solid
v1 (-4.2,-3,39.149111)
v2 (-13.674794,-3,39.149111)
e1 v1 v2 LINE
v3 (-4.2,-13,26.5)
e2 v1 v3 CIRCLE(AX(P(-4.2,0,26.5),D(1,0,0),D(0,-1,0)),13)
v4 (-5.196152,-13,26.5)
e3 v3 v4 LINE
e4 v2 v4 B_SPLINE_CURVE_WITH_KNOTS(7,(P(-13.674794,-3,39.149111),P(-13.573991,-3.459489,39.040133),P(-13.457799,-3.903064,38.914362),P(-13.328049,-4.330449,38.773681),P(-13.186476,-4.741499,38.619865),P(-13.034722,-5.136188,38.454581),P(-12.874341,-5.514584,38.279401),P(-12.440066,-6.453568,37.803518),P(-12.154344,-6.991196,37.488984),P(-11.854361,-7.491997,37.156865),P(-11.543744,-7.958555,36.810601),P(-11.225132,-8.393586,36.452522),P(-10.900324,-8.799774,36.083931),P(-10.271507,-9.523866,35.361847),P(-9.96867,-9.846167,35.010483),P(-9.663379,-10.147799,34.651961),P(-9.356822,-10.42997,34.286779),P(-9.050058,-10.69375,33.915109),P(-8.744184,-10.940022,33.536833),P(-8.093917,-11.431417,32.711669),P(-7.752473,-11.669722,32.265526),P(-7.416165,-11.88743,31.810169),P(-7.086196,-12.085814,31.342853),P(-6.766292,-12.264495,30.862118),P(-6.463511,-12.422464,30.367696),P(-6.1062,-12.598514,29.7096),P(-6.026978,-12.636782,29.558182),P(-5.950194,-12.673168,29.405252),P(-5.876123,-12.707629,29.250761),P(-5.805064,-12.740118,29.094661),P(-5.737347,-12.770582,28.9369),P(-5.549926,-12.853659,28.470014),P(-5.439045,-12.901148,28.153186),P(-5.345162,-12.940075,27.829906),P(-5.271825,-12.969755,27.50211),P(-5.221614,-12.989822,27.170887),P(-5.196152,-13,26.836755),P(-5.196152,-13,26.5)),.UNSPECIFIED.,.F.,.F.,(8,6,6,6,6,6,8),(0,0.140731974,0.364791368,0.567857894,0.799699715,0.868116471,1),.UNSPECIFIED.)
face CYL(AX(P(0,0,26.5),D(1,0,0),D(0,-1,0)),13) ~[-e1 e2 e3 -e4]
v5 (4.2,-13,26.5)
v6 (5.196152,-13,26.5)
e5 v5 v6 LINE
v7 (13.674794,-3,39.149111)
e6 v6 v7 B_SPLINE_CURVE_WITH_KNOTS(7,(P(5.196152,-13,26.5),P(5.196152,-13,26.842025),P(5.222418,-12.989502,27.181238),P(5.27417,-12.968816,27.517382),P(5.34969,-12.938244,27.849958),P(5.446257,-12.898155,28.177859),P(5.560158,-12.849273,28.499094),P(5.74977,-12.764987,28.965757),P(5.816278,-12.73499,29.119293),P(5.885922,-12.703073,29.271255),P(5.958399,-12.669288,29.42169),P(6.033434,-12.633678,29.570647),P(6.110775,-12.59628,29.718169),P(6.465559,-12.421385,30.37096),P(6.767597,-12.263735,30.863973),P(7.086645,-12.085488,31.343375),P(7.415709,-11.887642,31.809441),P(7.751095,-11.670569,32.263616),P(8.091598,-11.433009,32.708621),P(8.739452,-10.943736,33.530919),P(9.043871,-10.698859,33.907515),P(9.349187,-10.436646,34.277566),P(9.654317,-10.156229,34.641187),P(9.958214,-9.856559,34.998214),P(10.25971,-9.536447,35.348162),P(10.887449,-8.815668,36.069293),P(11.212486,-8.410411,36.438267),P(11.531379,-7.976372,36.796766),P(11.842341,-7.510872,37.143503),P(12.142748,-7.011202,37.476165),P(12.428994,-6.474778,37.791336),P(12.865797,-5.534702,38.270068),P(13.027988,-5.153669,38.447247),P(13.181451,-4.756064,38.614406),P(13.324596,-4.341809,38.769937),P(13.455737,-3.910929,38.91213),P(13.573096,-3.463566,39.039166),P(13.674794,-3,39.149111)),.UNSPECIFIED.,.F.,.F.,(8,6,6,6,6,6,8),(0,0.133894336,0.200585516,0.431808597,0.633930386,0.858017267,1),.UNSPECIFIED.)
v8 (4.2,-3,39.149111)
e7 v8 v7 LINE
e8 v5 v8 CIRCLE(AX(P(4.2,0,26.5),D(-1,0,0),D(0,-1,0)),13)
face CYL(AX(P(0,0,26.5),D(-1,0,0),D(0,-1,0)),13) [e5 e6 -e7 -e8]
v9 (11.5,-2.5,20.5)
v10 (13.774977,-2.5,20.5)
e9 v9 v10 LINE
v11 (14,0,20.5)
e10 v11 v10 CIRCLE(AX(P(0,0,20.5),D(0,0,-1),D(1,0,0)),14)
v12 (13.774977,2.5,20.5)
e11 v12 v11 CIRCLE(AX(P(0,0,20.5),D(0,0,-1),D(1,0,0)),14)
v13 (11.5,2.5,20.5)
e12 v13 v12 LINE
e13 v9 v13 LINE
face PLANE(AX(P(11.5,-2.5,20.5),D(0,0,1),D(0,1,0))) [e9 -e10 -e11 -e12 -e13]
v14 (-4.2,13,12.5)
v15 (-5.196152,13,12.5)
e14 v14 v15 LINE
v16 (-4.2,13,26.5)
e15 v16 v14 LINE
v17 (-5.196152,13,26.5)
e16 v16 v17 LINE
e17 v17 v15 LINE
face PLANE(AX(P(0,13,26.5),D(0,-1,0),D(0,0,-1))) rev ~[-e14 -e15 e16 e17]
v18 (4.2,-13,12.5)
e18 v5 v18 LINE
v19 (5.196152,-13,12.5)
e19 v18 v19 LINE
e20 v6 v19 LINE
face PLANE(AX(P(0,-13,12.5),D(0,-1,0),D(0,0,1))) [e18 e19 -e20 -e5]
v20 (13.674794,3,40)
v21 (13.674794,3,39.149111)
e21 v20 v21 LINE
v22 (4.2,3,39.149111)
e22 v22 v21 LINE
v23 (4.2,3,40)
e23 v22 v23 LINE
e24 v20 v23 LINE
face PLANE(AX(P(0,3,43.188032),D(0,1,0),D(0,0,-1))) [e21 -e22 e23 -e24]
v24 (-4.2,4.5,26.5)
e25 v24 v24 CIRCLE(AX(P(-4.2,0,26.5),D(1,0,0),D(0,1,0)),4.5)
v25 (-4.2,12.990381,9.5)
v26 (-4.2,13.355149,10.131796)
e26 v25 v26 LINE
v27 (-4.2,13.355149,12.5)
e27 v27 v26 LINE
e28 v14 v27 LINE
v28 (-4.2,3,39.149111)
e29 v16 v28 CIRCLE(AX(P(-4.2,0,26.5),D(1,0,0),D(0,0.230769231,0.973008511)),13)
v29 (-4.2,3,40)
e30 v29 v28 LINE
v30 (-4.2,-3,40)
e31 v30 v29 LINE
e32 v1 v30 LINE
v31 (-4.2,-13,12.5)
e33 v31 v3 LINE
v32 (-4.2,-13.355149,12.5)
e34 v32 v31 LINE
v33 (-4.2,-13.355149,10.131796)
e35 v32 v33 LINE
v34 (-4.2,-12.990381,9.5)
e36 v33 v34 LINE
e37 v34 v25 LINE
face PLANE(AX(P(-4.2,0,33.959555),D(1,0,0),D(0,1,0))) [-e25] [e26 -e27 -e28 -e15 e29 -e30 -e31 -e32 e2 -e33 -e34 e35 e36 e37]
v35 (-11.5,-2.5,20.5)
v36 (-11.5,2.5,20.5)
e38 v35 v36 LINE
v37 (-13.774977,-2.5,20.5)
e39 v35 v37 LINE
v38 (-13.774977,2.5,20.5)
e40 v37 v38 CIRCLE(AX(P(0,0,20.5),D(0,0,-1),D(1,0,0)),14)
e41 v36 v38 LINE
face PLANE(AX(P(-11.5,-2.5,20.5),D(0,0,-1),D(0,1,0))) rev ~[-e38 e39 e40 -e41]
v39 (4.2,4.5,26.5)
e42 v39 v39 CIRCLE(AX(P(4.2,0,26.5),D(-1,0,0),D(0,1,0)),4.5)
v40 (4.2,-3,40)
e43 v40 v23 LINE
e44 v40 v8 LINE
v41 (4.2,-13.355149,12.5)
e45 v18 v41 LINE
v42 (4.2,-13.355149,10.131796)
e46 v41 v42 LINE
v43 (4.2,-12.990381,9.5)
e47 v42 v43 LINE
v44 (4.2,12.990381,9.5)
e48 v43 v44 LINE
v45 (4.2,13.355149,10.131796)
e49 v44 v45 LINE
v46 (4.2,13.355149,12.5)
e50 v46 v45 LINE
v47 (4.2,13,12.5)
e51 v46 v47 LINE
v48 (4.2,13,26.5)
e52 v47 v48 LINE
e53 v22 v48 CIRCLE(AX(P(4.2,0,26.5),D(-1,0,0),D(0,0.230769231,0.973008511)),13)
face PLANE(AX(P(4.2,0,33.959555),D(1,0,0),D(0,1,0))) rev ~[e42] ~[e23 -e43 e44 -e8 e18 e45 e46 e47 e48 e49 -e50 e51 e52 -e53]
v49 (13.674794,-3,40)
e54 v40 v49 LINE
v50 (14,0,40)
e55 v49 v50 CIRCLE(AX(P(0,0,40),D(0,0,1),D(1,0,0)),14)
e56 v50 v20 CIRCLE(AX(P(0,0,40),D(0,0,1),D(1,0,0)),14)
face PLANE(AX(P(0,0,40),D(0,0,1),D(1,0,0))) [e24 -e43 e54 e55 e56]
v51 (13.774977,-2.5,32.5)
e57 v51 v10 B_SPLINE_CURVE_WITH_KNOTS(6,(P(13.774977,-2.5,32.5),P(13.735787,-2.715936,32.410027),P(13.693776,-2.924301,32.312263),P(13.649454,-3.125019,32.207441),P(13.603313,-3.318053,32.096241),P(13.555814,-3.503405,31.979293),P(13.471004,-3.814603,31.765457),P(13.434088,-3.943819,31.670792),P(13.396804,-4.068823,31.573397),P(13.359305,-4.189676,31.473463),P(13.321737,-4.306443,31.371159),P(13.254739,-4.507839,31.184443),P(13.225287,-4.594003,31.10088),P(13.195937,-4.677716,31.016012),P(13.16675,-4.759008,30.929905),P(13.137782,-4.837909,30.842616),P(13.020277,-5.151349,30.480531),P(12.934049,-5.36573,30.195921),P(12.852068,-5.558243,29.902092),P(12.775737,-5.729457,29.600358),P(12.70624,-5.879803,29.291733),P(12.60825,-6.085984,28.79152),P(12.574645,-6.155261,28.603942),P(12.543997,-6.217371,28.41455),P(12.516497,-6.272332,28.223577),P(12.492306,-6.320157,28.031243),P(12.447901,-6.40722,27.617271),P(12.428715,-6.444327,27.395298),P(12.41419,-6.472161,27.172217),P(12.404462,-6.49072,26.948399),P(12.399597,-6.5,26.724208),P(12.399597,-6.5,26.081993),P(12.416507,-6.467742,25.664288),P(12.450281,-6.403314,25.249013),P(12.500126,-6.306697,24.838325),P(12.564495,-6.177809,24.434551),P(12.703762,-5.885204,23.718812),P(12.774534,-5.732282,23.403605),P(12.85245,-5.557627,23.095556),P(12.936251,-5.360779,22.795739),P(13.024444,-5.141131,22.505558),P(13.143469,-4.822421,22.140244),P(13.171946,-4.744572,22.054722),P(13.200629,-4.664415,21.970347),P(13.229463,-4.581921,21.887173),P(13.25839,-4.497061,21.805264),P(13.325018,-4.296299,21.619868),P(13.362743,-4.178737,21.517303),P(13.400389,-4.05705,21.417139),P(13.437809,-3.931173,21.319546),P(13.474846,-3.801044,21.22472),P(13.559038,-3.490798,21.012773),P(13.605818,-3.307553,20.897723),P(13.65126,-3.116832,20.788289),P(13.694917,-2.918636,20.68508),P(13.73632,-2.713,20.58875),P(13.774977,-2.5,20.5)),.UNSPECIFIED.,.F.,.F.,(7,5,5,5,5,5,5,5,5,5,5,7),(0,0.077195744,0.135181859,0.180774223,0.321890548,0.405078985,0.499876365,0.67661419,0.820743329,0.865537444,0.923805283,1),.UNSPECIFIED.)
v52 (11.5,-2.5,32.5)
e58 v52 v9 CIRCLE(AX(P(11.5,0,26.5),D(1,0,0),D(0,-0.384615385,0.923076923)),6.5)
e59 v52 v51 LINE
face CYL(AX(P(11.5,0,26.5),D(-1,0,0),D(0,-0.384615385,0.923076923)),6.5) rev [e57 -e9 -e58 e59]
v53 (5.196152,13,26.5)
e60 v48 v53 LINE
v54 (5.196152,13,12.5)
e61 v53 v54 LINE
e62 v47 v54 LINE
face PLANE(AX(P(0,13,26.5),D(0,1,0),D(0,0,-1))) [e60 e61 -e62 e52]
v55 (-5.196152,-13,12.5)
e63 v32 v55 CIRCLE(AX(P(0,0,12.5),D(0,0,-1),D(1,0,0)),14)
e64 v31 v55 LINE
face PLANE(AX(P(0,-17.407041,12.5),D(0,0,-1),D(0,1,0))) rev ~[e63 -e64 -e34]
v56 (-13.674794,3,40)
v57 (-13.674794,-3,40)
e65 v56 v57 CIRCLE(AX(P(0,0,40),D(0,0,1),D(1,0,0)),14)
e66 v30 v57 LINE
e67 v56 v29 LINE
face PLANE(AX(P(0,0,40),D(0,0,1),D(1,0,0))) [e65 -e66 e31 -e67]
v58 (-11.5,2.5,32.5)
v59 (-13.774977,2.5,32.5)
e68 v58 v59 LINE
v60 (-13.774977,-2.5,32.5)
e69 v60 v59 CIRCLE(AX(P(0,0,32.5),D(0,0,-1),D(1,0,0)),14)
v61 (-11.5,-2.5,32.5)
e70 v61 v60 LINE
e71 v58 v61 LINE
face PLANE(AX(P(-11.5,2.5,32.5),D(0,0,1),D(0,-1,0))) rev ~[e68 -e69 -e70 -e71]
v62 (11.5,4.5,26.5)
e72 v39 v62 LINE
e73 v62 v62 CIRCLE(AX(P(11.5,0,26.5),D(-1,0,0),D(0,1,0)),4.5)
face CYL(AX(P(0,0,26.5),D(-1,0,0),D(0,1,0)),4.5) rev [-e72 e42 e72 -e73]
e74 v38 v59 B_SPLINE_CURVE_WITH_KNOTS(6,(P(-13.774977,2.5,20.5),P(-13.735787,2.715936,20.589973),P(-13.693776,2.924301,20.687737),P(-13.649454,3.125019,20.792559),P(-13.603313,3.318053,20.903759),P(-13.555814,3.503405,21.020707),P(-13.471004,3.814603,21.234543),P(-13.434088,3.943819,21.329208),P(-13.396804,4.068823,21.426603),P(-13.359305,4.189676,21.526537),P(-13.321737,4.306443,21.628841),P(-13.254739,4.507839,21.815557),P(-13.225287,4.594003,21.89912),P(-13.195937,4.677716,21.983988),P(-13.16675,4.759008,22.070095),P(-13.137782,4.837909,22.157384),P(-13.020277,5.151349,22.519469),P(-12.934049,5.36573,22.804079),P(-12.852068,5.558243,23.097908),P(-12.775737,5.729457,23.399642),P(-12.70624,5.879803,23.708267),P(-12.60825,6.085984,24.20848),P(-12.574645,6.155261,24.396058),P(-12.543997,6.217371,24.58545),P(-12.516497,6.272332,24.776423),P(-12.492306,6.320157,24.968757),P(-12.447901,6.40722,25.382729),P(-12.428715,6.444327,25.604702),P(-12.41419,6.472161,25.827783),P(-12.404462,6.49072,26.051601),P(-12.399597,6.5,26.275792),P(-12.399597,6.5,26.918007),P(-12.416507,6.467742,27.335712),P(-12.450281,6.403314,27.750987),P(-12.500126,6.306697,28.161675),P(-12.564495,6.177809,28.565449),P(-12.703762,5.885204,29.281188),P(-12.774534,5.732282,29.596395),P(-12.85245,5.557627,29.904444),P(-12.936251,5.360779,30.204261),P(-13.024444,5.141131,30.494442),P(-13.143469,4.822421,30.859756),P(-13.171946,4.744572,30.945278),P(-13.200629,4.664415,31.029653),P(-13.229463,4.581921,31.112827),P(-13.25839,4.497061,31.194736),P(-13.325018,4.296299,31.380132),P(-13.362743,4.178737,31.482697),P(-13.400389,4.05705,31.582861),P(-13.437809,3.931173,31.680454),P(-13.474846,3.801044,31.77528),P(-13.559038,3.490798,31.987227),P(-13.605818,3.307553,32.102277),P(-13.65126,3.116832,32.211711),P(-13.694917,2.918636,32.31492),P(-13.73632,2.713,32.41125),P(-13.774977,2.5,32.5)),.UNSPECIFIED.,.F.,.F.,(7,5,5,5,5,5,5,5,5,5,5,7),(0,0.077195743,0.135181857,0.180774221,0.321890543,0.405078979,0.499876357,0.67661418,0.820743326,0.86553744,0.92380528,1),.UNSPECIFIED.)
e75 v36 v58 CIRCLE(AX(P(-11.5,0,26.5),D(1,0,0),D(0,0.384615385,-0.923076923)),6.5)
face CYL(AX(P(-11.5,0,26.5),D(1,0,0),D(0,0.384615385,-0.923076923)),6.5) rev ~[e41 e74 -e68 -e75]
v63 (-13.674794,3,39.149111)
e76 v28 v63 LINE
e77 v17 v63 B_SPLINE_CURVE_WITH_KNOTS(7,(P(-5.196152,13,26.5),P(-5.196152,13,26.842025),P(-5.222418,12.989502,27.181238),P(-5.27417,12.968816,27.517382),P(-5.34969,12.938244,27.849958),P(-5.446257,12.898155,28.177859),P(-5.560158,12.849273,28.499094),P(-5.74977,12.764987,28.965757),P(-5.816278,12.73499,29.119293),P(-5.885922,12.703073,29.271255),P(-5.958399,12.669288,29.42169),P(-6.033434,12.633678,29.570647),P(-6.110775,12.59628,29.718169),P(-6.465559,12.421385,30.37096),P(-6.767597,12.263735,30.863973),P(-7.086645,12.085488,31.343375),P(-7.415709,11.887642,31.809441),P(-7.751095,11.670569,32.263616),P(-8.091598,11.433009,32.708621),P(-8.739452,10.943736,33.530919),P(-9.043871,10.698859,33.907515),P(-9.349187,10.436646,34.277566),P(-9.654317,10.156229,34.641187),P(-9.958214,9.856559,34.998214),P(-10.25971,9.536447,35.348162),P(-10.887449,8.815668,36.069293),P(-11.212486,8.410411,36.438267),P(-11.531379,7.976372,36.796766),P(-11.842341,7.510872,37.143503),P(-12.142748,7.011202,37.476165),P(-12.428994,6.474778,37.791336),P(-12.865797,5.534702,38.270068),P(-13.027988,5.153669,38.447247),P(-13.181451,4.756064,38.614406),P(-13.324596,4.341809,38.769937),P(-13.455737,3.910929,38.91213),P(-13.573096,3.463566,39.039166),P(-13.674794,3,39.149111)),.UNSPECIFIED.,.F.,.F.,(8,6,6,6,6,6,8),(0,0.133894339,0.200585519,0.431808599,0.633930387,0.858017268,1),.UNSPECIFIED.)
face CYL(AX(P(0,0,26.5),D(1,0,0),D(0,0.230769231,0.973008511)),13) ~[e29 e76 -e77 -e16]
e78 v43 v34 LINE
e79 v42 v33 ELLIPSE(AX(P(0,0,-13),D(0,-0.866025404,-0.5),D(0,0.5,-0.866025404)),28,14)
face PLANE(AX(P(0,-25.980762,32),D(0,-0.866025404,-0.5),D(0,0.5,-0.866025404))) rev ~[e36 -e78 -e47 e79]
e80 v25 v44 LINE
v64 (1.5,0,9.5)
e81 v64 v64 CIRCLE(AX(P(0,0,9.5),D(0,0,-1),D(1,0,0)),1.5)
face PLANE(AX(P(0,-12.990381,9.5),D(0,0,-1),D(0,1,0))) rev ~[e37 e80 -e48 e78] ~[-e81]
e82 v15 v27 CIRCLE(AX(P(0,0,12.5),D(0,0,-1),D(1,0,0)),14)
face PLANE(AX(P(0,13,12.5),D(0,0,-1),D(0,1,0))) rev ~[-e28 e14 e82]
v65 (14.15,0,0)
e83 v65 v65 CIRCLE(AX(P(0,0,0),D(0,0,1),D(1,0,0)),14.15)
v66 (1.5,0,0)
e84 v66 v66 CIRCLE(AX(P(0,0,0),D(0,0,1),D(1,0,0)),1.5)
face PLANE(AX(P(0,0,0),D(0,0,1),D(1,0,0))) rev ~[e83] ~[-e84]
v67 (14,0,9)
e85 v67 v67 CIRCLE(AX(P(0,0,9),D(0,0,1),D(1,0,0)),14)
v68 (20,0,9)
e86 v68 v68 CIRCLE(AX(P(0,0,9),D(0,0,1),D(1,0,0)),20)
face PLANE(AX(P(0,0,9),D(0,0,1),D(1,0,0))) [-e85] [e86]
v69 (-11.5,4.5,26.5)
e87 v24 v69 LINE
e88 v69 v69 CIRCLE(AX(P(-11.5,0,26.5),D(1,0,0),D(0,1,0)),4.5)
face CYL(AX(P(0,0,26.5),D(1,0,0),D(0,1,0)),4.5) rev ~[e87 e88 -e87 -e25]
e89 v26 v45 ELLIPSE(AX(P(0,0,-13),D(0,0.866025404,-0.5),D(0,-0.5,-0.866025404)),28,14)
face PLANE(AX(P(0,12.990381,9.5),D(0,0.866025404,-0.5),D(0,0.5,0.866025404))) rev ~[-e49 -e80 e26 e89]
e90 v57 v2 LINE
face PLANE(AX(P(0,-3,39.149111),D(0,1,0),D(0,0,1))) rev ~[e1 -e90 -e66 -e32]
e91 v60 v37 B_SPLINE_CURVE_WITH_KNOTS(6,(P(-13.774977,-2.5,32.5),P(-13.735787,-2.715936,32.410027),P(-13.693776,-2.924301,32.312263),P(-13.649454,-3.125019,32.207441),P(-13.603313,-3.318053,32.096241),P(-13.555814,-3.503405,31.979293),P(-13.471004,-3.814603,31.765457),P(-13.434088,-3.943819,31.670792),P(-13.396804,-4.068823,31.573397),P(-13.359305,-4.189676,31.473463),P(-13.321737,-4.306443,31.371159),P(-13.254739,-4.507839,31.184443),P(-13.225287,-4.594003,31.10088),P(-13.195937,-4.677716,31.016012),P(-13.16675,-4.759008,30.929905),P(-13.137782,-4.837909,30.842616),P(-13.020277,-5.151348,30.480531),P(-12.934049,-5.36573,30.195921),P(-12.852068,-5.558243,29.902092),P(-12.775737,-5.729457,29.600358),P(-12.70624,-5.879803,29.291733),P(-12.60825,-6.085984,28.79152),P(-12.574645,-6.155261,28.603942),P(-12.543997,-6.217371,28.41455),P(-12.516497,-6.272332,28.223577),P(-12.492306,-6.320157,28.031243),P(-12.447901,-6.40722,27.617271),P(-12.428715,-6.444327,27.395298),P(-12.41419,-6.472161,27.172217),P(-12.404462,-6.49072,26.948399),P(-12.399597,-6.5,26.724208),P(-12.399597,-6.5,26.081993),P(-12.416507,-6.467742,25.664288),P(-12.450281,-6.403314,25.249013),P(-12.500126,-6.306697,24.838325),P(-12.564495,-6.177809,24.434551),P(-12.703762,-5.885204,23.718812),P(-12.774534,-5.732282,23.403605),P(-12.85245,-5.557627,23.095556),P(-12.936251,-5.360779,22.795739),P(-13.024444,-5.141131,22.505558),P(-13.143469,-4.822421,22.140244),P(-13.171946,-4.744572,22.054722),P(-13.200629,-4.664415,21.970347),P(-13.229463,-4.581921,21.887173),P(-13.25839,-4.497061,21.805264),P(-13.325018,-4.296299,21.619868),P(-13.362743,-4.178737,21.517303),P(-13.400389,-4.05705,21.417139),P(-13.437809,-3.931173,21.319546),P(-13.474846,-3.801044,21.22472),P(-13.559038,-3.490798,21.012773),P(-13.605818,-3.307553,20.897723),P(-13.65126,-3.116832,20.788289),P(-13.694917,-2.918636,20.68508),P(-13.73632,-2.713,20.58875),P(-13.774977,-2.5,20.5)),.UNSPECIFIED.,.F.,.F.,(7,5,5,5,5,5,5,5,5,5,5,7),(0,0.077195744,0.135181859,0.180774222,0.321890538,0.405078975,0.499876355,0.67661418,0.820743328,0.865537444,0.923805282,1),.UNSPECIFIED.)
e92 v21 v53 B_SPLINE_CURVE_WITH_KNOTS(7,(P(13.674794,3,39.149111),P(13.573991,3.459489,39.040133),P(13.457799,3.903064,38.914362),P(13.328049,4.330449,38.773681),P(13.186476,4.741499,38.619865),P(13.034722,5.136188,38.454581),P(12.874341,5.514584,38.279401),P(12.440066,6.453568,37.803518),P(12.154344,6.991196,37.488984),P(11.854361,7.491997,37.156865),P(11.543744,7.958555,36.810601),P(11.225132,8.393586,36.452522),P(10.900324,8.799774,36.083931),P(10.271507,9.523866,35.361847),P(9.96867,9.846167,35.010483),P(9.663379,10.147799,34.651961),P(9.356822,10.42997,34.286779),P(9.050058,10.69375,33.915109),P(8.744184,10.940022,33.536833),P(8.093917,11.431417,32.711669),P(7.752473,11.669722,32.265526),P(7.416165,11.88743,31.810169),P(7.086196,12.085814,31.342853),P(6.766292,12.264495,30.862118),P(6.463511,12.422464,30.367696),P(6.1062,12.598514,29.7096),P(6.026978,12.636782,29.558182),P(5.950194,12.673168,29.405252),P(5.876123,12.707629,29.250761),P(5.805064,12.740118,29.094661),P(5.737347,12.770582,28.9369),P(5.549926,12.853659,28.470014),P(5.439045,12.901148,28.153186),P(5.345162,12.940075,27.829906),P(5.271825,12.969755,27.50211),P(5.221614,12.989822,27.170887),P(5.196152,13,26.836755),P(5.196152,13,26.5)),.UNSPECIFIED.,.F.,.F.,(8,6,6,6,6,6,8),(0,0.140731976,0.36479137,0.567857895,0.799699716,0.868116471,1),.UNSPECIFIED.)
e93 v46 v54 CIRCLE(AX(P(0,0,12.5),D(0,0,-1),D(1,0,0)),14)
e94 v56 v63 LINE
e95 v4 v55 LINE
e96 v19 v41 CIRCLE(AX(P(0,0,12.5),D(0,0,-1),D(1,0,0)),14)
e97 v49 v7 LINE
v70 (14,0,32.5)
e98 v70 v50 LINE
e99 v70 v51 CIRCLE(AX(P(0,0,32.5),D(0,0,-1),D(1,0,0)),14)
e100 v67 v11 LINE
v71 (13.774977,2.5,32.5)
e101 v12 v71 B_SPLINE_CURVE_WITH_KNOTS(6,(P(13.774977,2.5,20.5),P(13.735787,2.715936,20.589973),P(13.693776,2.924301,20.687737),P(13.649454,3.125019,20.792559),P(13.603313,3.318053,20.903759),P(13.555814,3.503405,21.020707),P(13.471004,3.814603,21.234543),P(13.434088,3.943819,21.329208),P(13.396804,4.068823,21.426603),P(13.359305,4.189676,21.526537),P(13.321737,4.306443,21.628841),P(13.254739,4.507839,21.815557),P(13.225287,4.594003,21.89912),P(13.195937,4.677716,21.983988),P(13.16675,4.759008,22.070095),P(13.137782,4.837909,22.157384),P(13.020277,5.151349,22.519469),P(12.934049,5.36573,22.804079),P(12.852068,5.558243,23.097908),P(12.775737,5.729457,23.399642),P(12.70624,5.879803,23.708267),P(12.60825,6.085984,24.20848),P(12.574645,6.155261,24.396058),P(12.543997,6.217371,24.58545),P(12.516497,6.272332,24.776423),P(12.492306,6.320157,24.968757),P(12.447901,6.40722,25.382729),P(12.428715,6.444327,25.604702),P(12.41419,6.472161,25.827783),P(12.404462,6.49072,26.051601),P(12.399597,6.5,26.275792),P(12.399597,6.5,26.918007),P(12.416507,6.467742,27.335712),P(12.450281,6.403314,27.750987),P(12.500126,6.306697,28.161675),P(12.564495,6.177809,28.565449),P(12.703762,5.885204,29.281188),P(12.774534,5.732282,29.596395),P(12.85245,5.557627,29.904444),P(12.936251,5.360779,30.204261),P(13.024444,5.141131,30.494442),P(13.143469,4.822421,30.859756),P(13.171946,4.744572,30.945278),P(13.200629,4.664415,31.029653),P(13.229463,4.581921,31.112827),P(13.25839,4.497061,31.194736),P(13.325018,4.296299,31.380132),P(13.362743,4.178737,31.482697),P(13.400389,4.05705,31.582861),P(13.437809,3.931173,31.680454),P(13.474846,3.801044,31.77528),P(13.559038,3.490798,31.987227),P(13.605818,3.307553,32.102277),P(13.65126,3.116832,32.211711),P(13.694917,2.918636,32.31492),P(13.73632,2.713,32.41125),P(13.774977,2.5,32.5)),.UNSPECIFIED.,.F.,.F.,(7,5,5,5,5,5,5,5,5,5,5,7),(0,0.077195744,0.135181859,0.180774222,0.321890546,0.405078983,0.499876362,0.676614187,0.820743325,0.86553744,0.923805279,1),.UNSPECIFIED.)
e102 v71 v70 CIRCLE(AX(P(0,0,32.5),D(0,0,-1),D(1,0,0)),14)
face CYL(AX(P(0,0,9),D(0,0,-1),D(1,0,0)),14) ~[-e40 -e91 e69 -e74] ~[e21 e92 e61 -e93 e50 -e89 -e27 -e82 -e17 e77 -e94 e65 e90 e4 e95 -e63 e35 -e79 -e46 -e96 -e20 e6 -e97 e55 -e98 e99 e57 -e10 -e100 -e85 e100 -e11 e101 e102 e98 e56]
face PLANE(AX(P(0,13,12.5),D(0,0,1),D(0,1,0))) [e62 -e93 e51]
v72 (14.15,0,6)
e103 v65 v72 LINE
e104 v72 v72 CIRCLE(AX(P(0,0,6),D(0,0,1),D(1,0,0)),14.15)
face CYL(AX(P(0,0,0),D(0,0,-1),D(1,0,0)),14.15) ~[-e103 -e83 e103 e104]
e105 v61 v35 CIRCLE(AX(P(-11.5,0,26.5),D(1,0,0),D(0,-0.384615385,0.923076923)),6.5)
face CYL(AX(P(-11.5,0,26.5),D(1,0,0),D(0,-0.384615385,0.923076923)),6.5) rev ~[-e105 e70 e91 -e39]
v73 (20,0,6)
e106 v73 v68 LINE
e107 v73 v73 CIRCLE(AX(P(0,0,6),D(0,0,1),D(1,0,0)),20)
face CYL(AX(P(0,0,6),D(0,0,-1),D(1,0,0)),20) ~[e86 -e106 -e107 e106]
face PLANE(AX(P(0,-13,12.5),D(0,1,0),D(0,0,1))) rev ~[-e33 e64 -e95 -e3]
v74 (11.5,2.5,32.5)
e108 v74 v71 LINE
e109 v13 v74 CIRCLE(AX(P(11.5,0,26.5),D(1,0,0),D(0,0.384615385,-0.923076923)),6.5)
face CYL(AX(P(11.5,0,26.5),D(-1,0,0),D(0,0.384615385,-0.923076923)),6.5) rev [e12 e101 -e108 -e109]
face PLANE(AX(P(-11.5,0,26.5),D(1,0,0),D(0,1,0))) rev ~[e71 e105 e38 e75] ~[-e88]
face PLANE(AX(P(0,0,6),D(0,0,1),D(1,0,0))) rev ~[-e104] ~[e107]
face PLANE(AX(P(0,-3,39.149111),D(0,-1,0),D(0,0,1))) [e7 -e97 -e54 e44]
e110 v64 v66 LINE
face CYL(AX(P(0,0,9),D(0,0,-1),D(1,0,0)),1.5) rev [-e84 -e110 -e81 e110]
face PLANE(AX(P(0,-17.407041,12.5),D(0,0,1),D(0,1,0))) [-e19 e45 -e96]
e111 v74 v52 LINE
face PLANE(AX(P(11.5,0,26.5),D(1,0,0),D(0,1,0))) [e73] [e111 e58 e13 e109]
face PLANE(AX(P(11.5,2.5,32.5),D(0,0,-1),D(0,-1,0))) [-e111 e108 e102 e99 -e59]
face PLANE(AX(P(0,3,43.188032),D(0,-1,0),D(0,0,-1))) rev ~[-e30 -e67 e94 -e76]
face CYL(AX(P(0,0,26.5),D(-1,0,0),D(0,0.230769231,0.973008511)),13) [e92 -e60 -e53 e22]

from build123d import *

# Parameters (mm, degrees)
F0_R           = 14.15
F0_R_2         = 1.5
F1_DEPTH       = 6
F2_R           = 20
F2_R_2         = 1.5
F3_DEPTH       = 3
F4_R           = 14
F4_R_2         = 1.5
F5_DEPTH       = 31
F6_R           = 4.5
F7_DEPTH       = 20.001
F7_DEPTH_BACK  = 20.001
F9_DEPTH       = 4.2
F11_DEPTH      = 20.001
F11_DEPTH_BACK = 20.001
F14_DEPTH      = 25
F17_DEPTH      = 25


with BuildPart() as f1:
    # F0 (on Top) → F1 (new body)
    with BuildSketch(Plane.XY):
        Circle(F0_R)
        Circle(F0_R_2, mode=Mode.SUBTRACT)
    extrude(amount=F1_DEPTH)

    # F2 (on face) → F3 (join)
    with BuildSketch(Plane.XY.offset(6)):
        Circle(F2_R)
        Circle(F2_R_2, mode=Mode.SUBTRACT)
    extrude(amount=F3_DEPTH)

    # F4 (on face) → F5 (join)
    with BuildSketch(Plane.XY.offset(9)):
        Circle(F4_R)
        Circle(F4_R_2, mode=Mode.SUBTRACT)
    extrude(amount=F5_DEPTH)

    # F6 (on Right) → F7 (cut, two sides)
    with BuildSketch(Plane.YZ) as f7_sk:
        with Locations((0, 26.5)):
            Circle(F6_R)
    extrude(amount=-F7_DEPTH, mode=Mode.SUBTRACT)
    extrude(f7_sk.sketch, amount=F7_DEPTH_BACK, mode=Mode.SUBTRACT)

    # F8 (on Right) → F9 (cut, symmetric)
    with BuildSketch(Plane.YZ):
        Polygon((-12.9903810568, 9.5), (12.9903810568, 9.5), (25.9807621135, 32), (25.9807621135, 52.7080496021), (-25.9807621135, 52.7080496021), (-25.9807621135, 32), align=None)
    extrude(amount=F9_DEPTH, both=True, mode=Mode.SUBTRACT)

    # F10 (on Right) → F11 (cut, two sides)
    with BuildSketch(Plane.YZ) as f11_sk:
        with BuildLine():
            Line((-3, 39.1491106407), (-3, 43.1880317001))
            Line((-3, 43.1880317001), (3, 43.1880317001))
            Line((3, 43.1880317001), (3, 39.1491106407))
            ThreePointArc((3, 39.1491106407), (10.1980390272, 34.5622577483), (13, 26.5))
            Line((13, 26.5), (13, 12.5))
            Line((13, 12.5), (19.3005313302, 12.5))
            Line((19.3005313302, 12.5), (19.3005313302, 47.1742767518))
            Line((19.3005313302, 47.1742767518), (-17.3973576033, 47.1742767518))
            Line((-17.3973576033, 47.1742767518), (-17.4070411782, 12.5))
            Line((-17.4070411782, 12.5), (-13, 12.5))
            Line((-13, 12.5), (-13, 26.5))
            ThreePointArc((-13, 26.5), (-10.1980390272, 34.5622577483), (-3, 39.1491106407))
        make_face()
    extrude(amount=-F11_DEPTH, mode=Mode.SUBTRACT)
    extrude(f11_sk.sketch, amount=F11_DEPTH_BACK, mode=Mode.SUBTRACT)

    # F13 (on offset) → F14 (cut)
    with BuildSketch(Plane.YZ.offset(11.5)):
        with BuildLine():
            Line((2.5, 32.5), (-2.5, 32.5))
            ThreePointArc((-2.5, 32.5), (-6.5, 26.5), (-2.5, 20.5))
            Line((-2.5, 20.5), (2.5, 20.5))
            ThreePointArc((2.5, 20.5), (6.5, 26.5), (2.5, 32.5))
        make_face()
    extrude(amount=F14_DEPTH, mode=Mode.SUBTRACT)

    # F16 (on offset) → F17 (cut)
    with BuildSketch(Plane.YZ.offset(-11.5)):
        with BuildLine():
            Line((2.5, 32.5), (-2.5, 32.5))
            ThreePointArc((-2.5, 32.5), (-6.5, 26.5), (-2.5, 20.5))
            Line((-2.5, 20.5), (2.5, 20.5))
            ThreePointArc((2.5, 20.5), (6.5, 26.5), (2.5, 32.5))
        make_face()
    extrude(amount=-F17_DEPTH, mode=Mode.SUBTRACT)


solid = f1.part
